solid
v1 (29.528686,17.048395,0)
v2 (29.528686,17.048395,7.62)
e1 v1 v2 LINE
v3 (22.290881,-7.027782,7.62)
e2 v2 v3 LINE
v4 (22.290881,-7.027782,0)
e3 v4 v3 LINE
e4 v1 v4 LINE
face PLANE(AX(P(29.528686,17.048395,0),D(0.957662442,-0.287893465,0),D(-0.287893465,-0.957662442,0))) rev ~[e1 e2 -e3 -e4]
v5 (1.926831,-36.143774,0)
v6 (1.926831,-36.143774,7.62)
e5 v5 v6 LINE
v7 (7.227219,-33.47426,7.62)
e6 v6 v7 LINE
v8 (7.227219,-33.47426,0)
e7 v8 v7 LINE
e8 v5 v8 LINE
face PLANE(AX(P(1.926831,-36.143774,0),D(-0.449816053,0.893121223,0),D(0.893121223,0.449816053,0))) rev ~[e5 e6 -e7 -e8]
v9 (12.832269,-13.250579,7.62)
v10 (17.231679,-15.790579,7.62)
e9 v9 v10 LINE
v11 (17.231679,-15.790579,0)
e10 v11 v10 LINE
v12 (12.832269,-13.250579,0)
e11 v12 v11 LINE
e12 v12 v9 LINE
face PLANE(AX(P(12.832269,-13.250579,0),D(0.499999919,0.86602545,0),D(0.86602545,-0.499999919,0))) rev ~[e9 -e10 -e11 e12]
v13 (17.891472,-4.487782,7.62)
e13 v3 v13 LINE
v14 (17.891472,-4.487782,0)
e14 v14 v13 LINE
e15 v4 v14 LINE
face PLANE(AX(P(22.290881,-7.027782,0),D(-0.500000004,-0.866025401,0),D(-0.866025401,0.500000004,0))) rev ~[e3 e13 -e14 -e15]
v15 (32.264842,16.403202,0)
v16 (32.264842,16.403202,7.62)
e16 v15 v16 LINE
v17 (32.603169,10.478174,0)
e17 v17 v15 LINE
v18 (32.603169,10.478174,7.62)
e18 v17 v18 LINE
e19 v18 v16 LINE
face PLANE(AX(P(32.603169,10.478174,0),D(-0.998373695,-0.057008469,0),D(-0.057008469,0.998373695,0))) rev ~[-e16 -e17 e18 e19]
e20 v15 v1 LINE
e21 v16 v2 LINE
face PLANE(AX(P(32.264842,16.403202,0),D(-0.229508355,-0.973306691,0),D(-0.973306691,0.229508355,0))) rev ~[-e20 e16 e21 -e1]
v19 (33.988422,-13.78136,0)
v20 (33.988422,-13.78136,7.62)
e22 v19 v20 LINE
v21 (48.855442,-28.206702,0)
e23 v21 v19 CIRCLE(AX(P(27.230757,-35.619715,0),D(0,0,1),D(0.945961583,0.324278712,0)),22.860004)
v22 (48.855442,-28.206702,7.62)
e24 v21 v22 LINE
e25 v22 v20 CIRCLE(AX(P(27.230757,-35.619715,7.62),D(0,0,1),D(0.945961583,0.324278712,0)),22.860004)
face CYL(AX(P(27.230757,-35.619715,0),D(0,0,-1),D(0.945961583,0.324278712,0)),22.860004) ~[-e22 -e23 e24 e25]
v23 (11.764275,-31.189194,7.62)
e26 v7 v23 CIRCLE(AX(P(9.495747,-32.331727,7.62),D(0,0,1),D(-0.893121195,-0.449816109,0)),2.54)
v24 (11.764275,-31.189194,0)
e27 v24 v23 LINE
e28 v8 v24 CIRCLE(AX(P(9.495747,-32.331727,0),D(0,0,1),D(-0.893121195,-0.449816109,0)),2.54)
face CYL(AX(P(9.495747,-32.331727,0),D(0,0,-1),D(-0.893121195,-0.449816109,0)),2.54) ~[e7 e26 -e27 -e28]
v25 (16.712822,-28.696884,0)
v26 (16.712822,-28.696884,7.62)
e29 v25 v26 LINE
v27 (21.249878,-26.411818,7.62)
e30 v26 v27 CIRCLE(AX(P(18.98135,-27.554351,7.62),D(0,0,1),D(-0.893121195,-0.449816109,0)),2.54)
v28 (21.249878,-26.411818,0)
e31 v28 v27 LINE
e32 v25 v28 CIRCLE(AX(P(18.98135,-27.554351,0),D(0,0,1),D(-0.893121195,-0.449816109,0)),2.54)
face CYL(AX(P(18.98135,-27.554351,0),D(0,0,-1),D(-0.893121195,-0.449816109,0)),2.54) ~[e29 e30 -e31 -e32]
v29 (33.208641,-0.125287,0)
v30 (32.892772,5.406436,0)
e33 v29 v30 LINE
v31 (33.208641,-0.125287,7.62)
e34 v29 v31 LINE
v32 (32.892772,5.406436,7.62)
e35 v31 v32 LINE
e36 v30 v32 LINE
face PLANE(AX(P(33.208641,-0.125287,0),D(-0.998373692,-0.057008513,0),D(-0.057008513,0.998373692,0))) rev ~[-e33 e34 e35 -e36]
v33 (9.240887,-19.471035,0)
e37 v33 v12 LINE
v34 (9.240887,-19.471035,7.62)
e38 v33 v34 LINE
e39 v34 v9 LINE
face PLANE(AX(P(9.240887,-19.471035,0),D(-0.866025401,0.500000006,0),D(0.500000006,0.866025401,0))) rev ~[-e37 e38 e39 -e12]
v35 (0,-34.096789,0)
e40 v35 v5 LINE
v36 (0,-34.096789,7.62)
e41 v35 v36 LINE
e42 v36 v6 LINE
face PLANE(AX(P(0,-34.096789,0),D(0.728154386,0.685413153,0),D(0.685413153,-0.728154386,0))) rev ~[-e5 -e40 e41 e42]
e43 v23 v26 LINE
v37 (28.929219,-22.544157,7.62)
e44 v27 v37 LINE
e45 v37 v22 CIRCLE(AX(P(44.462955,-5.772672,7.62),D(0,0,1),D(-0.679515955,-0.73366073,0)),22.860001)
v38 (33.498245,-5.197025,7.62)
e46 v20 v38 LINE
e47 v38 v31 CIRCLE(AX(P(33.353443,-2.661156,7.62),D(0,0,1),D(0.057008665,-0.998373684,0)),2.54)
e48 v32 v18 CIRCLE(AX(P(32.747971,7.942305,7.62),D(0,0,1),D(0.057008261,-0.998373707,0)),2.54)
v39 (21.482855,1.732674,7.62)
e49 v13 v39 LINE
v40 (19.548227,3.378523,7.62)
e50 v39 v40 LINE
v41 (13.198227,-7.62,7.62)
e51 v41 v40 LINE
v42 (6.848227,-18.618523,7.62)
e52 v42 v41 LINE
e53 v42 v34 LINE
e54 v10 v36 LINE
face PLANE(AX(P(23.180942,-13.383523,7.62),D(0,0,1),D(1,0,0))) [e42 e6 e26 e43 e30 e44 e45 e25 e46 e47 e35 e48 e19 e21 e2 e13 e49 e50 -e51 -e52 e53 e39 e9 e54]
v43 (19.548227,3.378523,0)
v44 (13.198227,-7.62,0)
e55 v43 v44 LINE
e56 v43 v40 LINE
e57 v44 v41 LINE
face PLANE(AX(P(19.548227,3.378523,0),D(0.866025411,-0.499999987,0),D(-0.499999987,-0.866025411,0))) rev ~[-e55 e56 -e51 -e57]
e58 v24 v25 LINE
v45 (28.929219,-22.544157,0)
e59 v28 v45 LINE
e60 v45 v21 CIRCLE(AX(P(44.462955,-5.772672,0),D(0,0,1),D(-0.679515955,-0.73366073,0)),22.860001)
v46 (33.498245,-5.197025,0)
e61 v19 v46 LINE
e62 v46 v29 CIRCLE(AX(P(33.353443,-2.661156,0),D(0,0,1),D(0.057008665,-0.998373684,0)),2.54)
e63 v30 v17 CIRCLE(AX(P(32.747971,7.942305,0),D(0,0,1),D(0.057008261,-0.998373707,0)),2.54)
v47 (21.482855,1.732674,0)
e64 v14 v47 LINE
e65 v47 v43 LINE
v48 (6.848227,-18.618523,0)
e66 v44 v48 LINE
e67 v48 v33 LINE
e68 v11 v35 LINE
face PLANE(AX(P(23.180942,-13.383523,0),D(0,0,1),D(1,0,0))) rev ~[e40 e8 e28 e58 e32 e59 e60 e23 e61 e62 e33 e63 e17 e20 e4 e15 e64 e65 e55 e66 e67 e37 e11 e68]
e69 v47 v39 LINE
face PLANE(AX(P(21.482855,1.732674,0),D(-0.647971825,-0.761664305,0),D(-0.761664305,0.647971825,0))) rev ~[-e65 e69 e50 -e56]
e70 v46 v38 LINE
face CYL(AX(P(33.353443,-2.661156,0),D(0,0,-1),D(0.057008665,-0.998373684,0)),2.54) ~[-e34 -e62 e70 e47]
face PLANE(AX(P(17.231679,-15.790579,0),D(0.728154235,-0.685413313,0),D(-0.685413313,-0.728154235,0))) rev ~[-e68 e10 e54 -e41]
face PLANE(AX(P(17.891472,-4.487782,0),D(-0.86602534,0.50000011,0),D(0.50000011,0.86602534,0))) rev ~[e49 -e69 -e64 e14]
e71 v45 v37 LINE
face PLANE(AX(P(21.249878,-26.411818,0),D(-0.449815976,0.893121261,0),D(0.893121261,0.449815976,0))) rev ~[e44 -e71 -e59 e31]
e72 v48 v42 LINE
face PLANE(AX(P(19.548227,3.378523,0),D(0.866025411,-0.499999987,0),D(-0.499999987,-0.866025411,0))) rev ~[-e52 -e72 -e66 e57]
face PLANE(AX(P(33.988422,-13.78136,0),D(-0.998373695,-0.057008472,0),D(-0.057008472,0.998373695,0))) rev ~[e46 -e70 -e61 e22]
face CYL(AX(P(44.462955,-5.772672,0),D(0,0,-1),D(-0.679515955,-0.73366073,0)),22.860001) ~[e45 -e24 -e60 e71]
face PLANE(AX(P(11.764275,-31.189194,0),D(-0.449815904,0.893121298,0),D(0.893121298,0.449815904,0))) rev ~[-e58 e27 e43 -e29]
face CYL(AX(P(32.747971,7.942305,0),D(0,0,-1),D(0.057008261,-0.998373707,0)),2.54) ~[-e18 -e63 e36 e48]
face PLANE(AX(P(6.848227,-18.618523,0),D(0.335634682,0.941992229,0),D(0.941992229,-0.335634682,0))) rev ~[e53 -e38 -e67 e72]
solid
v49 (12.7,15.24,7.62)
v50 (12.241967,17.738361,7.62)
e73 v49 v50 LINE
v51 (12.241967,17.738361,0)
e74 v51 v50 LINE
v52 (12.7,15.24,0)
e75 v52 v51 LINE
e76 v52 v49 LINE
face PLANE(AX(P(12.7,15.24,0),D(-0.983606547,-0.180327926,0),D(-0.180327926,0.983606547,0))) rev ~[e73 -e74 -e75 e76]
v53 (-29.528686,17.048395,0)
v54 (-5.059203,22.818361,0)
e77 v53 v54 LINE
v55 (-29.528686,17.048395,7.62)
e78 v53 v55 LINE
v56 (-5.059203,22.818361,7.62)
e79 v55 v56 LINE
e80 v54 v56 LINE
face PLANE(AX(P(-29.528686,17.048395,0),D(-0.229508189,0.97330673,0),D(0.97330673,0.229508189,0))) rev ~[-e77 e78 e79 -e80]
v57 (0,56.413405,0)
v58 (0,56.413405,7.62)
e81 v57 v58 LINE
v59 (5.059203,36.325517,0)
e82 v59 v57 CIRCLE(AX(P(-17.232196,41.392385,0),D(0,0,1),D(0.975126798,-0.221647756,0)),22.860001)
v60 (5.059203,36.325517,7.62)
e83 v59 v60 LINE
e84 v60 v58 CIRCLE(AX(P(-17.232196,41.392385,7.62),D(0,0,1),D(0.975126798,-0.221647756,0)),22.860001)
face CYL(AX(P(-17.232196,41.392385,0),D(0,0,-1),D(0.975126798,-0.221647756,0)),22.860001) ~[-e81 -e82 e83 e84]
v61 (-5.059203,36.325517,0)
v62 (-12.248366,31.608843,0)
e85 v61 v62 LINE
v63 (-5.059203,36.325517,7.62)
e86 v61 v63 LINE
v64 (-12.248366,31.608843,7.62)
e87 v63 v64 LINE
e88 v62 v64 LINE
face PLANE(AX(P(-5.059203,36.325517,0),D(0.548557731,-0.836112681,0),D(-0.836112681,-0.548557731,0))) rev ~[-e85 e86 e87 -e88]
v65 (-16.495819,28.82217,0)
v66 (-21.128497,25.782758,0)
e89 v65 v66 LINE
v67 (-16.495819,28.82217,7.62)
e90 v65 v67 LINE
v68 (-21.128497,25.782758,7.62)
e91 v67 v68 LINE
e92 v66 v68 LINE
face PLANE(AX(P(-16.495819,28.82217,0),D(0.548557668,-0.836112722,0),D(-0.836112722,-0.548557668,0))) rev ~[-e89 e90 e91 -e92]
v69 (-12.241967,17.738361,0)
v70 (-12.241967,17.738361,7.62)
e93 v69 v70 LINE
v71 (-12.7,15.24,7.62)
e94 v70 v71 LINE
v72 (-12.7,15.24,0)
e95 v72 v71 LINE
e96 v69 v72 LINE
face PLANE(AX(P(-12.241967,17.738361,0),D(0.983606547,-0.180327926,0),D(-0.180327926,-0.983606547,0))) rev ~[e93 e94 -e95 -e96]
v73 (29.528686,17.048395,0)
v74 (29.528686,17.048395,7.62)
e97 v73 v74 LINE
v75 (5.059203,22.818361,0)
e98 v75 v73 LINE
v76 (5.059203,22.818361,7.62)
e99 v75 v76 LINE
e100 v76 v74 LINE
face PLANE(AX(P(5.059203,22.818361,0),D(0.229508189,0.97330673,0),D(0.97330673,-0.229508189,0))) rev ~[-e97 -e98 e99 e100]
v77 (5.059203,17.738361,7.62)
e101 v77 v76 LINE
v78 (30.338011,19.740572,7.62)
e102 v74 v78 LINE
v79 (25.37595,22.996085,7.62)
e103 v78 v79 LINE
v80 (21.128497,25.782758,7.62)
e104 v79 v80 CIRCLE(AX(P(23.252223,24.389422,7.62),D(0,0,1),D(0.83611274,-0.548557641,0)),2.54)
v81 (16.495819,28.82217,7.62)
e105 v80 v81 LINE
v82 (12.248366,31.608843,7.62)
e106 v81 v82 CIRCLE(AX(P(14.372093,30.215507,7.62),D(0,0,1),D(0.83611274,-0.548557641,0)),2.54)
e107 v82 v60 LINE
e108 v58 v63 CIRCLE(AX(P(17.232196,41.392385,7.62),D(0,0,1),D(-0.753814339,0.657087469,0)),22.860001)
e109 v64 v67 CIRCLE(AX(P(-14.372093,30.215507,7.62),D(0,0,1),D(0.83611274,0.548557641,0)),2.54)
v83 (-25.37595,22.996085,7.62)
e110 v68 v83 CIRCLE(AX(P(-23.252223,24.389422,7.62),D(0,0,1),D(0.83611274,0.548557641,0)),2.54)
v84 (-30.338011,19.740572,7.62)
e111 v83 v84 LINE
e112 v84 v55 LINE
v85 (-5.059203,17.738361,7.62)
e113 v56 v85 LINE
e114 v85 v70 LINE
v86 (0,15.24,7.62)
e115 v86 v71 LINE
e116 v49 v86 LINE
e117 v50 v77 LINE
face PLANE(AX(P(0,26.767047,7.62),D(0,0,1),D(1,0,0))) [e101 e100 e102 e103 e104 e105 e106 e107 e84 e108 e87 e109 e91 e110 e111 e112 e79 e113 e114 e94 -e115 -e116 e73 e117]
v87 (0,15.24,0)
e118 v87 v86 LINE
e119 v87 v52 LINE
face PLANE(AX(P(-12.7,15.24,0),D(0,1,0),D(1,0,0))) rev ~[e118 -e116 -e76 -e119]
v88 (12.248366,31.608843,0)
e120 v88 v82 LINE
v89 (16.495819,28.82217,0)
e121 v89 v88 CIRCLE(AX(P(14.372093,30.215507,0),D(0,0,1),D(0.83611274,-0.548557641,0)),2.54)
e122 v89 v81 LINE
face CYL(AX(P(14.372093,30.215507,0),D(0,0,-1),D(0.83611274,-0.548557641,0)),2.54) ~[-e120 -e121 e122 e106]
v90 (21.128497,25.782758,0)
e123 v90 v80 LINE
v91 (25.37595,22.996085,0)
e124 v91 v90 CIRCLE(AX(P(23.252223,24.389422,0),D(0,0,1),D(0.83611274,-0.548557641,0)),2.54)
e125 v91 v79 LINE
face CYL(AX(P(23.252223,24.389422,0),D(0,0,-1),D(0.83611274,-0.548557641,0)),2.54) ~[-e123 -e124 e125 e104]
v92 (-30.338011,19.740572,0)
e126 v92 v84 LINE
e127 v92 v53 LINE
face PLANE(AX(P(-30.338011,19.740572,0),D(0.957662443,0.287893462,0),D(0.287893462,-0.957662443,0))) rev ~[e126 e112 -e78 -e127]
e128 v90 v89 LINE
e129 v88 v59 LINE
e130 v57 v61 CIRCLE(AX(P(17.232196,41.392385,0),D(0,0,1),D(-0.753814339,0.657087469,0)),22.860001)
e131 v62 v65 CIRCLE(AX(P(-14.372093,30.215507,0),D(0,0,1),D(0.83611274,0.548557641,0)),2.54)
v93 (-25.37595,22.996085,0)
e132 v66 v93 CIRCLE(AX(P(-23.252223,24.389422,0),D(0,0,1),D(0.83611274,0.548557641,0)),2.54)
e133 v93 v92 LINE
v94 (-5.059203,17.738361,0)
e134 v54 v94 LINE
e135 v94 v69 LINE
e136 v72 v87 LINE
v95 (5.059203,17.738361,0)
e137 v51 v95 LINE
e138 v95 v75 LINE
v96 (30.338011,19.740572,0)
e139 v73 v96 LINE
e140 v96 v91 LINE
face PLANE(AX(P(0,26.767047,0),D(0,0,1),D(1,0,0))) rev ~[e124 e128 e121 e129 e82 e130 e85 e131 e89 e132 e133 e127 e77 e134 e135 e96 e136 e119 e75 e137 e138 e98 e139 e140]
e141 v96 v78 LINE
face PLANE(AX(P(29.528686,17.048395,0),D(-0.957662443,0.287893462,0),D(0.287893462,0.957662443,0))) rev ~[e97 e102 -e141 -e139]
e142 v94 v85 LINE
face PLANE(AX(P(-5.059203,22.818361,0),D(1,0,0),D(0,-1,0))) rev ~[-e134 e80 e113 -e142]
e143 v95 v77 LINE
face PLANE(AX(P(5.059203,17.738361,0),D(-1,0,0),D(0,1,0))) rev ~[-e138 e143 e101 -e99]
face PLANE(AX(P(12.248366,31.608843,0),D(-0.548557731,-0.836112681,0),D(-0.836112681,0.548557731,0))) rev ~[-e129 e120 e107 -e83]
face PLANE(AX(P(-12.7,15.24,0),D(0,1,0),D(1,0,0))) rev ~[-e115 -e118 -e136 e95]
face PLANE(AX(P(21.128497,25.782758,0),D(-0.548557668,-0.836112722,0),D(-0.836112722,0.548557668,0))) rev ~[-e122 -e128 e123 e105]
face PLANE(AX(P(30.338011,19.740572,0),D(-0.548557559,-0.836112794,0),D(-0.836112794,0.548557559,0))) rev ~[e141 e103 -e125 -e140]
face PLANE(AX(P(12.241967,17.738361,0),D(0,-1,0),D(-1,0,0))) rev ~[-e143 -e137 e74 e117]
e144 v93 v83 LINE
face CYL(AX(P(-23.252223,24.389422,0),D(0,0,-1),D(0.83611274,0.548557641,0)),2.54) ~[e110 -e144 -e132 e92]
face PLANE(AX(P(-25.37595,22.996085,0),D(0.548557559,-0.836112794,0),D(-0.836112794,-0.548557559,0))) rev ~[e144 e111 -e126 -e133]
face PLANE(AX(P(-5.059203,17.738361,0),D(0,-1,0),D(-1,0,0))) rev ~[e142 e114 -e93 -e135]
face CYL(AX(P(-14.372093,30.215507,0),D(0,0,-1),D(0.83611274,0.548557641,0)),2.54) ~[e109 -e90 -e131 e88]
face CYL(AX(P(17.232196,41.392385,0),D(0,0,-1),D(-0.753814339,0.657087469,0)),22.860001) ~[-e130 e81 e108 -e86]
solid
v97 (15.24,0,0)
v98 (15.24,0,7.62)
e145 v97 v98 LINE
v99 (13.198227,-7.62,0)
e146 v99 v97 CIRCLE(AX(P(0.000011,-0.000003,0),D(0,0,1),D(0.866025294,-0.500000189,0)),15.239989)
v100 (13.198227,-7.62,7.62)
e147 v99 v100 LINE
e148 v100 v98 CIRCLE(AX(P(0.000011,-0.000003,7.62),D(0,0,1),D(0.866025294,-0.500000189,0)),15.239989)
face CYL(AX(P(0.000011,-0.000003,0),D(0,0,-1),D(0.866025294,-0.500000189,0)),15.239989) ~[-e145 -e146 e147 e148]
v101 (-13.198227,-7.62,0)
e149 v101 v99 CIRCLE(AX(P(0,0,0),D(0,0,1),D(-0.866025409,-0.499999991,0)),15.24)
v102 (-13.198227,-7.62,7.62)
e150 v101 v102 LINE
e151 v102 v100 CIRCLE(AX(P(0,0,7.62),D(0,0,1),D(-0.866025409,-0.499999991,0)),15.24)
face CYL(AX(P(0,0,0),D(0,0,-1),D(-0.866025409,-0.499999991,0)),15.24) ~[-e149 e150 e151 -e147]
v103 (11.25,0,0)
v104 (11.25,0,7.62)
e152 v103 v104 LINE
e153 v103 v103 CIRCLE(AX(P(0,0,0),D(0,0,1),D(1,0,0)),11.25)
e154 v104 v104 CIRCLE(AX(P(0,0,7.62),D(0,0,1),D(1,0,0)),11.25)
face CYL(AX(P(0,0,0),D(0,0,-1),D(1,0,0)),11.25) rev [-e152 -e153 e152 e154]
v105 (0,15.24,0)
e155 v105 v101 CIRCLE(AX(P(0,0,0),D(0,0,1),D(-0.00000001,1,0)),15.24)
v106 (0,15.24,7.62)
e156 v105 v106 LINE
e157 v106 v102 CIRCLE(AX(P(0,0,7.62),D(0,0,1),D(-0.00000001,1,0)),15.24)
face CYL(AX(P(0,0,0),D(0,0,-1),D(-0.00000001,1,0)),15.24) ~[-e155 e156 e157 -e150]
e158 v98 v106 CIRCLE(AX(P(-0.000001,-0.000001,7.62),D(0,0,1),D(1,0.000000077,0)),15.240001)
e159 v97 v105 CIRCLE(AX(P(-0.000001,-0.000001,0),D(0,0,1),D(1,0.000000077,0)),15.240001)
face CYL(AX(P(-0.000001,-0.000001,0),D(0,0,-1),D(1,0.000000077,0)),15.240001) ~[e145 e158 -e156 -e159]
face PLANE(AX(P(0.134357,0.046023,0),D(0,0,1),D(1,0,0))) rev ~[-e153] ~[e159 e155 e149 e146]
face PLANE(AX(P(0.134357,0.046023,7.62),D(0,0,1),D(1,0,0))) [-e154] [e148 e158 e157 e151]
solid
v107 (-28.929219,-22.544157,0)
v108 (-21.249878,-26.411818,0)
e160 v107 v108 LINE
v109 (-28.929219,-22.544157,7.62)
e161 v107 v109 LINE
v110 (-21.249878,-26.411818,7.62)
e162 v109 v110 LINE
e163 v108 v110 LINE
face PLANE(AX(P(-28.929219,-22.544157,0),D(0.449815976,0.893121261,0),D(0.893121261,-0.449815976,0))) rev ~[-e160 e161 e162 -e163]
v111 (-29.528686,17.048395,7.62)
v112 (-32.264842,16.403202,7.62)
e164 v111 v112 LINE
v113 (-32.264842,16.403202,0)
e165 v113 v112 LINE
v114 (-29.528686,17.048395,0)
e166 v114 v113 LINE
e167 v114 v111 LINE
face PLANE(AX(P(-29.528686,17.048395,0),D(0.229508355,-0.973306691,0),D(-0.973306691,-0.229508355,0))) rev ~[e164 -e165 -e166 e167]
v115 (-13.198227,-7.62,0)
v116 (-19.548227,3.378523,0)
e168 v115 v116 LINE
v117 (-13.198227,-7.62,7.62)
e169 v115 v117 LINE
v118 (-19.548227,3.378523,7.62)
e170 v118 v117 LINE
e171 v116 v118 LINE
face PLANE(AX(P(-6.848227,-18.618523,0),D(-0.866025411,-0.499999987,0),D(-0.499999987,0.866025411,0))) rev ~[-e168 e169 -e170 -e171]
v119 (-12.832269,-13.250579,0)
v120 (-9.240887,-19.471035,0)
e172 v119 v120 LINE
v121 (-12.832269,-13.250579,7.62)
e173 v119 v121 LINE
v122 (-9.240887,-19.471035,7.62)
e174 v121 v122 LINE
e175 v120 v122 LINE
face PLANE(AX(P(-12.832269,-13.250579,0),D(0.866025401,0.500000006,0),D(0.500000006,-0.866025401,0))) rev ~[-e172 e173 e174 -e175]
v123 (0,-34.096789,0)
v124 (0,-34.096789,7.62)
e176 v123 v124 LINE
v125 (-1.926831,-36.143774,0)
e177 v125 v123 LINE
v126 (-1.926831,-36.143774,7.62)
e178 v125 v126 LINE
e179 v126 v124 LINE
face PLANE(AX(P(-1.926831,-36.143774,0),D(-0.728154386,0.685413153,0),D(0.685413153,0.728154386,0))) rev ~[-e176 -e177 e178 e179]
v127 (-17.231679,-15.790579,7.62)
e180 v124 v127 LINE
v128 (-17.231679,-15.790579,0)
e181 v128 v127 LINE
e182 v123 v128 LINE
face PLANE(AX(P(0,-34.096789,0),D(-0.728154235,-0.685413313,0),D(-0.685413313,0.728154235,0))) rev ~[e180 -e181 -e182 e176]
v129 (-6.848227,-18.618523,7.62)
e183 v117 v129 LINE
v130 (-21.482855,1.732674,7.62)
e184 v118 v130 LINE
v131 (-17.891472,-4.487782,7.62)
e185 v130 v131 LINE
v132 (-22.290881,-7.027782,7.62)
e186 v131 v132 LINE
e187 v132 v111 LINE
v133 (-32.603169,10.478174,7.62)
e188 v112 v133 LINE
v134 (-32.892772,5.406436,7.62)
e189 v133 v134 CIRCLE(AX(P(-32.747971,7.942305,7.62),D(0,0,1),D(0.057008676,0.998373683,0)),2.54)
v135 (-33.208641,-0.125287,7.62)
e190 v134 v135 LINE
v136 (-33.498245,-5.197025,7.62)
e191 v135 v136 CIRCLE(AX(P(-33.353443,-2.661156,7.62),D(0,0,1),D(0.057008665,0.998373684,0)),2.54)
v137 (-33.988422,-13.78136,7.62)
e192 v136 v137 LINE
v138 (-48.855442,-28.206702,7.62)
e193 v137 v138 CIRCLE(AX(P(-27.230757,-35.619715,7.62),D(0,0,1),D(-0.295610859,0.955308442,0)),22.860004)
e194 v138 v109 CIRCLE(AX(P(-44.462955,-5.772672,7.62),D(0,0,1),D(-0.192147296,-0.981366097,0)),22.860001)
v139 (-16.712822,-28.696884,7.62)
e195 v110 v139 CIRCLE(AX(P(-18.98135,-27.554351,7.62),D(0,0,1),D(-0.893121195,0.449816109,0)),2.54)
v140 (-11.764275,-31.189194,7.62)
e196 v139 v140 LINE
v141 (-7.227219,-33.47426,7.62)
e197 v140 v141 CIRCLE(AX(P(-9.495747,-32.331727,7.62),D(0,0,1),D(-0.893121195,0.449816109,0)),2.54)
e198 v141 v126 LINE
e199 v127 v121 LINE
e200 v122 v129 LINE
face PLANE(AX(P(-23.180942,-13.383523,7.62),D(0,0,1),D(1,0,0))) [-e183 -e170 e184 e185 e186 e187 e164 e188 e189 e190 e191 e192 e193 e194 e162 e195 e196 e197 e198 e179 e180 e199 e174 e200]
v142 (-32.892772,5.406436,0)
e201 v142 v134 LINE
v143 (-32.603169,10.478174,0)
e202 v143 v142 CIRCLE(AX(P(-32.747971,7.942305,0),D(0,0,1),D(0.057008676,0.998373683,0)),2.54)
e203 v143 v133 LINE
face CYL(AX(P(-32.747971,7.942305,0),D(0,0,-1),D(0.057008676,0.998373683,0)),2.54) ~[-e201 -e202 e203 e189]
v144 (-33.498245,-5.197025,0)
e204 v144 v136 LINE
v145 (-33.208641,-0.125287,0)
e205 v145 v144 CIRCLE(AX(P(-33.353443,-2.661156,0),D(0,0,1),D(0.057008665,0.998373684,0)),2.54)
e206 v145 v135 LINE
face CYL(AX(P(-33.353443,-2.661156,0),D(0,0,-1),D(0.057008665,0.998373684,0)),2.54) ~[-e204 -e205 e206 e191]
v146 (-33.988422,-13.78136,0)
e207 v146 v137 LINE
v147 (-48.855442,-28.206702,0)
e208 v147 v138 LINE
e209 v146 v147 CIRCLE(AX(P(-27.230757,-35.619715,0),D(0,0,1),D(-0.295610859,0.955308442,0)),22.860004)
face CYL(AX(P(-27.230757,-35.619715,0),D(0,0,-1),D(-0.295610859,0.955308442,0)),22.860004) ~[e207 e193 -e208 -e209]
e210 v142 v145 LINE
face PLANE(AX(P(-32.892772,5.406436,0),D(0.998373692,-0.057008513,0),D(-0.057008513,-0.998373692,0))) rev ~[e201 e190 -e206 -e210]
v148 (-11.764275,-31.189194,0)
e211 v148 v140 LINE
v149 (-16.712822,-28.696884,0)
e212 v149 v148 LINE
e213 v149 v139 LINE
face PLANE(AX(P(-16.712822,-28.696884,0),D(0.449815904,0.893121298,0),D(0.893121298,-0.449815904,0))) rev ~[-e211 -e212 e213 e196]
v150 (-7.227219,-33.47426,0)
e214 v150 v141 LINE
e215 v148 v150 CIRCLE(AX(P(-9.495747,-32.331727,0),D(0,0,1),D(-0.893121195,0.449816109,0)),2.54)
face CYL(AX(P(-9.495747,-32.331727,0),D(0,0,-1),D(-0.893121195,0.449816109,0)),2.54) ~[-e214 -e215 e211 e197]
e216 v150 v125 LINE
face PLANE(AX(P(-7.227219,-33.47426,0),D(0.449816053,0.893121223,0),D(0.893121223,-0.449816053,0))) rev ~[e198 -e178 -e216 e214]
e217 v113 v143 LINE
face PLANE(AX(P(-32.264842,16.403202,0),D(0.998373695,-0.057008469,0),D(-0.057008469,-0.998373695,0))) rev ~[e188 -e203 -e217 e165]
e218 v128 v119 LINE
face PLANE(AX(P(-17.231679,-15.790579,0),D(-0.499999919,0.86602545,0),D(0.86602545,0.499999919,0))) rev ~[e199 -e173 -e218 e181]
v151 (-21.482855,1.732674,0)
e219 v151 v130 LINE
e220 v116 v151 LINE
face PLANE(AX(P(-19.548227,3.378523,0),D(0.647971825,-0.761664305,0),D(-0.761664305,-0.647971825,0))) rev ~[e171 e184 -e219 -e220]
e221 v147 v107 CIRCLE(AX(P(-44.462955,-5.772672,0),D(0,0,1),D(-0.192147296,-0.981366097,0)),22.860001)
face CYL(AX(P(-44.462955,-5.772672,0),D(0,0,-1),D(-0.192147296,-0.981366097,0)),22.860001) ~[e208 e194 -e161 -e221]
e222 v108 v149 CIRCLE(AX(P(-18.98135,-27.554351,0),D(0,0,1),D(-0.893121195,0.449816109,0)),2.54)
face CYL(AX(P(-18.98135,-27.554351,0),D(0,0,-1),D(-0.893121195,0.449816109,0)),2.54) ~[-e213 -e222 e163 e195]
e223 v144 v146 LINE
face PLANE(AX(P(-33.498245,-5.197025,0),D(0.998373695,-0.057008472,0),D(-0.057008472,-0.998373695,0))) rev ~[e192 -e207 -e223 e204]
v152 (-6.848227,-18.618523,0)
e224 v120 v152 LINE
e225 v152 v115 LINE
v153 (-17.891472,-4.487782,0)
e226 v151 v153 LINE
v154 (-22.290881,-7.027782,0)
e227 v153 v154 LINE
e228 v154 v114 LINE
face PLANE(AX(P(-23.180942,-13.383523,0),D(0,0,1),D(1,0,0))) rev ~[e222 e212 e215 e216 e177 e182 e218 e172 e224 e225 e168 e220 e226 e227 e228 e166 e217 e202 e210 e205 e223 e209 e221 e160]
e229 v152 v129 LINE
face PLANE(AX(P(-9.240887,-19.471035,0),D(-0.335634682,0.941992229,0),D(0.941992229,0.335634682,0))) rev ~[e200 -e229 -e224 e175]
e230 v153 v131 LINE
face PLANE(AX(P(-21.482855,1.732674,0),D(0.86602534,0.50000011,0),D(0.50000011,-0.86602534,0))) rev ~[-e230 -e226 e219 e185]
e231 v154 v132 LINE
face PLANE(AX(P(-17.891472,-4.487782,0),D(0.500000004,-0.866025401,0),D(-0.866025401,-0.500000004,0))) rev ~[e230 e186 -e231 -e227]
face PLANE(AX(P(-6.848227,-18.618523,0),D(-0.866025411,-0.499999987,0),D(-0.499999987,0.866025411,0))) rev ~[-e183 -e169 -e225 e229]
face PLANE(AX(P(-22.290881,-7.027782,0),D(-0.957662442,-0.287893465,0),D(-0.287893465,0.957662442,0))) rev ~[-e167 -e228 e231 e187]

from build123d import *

# Parameters (mm, degrees)
F0_R     = 11.25
F1_DEPTH = 7.62


with BuildPart() as f1:
    # F0 (on Top) → F1 (new body)
    with BuildSketch(Plane.XY):
        with BuildLine():
            ThreePointArc((13.198227, -7.62), (14.72071, -3.944402), (15.24, 0))
            ThreePointArc((15.24, 0), (10.776307, 10.776307), (0, 15.24))
            ThreePointArc((0, 15.24), (-13.198227, 7.62), (-13.198227, -7.62))
            ThreePointArc((-13.198227, -7.62), (0, -15.24), (13.198227, -7.62))
        make_face()
        Circle(F0_R, mode=Mode.SUBTRACT)
        with BuildLine():
            Line((19.548227, 3.378523), (13.198227, -7.62))
            Line((13.198227, -7.62), (6.848227, -18.618523))
            Line((6.848227, -18.618523), (9.240887, -19.471035))
            Line((9.240887, -19.471035), (12.832269, -13.250579))
            Line((12.832269, -13.250579), (17.231679, -15.790579))
            Line((17.231679, -15.790579), (0, -34.096789))
            Line((0, -34.096789), (1.926831, -36.143774))
            Line((1.926831, -36.143774), (7.227219, -33.47426))
            Line((7.227219, -33.47426), (11.764275, -31.189194))
            Line((11.764275, -31.189194), (16.712822, -28.696884))
            Line((16.712822, -28.696884), (21.249878, -26.411818))
            Line((21.249878, -26.411818), (28.929219, -22.544157))
            ThreePointArc((28.929219, -22.544157), (38.214118, -27.762026), (48.855442, -28.206702))
            ThreePointArc((48.855442, -28.206702), (43.149679, -19.213384), (33.988422, -13.78136))
            Line((33.988422, -13.78136), (33.498245, -5.197025))
            Line((33.498245, -5.197025), (33.208641, -0.125287))
            Line((33.208641, -0.125287), (32.892772, 5.406436))
            Line((32.892772, 5.406436), (32.603169, 10.478174))
            Line((32.603169, 10.478174), (32.264842, 16.403202))
            Line((32.264842, 16.403202), (29.528686, 17.048395))
            Line((29.528686, 17.048395), (22.290881, -7.027782))
            Line((22.290881, -7.027782), (17.891472, -4.487782))
            Line((17.891472, -4.487782), (21.482855, 1.732674))
            Line((21.482855, 1.732674), (19.548227, 3.378523))
        make_face()
        with BuildLine():
            Line((-12.7, 15.24), (0, 15.24))
            Line((0, 15.24), (12.7, 15.24))
            Line((12.7, 15.24), (12.241967, 17.738361))
            Line((12.241967, 17.738361), (5.059203, 17.738361))
            Line((5.059203, 17.738361), (5.059203, 22.818361))
            Line((5.059203, 22.818361), (29.528686, 17.048395))
            Line((29.528686, 17.048395), (30.338011, 19.740572))
            Line((30.338011, 19.740572), (25.37595, 22.996085))
            Line((25.37595, 22.996085), (21.128497, 25.782758))
            Line((21.128497, 25.782758), (16.495819, 28.82217))
            Line((16.495819, 28.82217), (12.248366, 31.608843))
            Line((12.248366, 31.608843), (5.059203, 36.325517))
            ThreePointArc((5.059203, 36.325517), (4.935561, 46.97541), (0, 56.413405))
            ThreePointArc((0, 56.413405), (-4.935561, 46.97541), (-5.059203, 36.325517))
            Line((-5.059203, 36.325517), (-12.248366, 31.608843))
            Line((-12.248366, 31.608843), (-16.495819, 28.82217))
            Line((-16.495819, 28.82217), (-21.128497, 25.782758))
            Line((-21.128497, 25.782758), (-25.37595, 22.996085))
            Line((-25.37595, 22.996085), (-30.338011, 19.740572))
            Line((-30.338011, 19.740572), (-29.528686, 17.048395))
            Line((-29.528686, 17.048395), (-5.059203, 22.818361))
            Line((-5.059203, 22.818361), (-5.059203, 17.738361))
            Line((-5.059203, 17.738361), (-12.241967, 17.738361))
            Line((-12.241967, 17.738361), (-12.7, 15.24))
        make_face()
        with BuildLine():
            Line((-6.848227, -18.618523), (-13.198227, -7.62))
            Line((-13.198227, -7.62), (-19.548227, 3.378523))
            Line((-19.548227, 3.378523), (-21.482855, 1.732674))
            Line((-21.482855, 1.732674), (-17.891472, -4.487782))
            Line((-17.891472, -4.487782), (-22.290881, -7.027782))
            Line((-22.290881, -7.027782), (-29.528686, 17.048395))
            Line((-29.528686, 17.048395), (-32.264842, 16.403202))
            Line((-32.264842, 16.403202), (-32.603169, 10.478174))
            Line((-32.603169, 10.478174), (-32.892772, 5.406436))
            Line((-32.892772, 5.406436), (-33.208641, -0.125287))
            Line((-33.208641, -0.125287), (-33.498245, -5.197025))
            Line((-33.498245, -5.197025), (-33.988422, -13.78136))
            ThreePointArc((-33.988422, -13.78136), (-43.149679, -19.213384), (-48.855442, -28.206702))
            ThreePointArc((-48.855442, -28.206702), (-38.214118, -27.762026), (-28.929219, -22.544157))
            Line((-28.929219, -22.544157), (-21.249878, -26.411818))
            Line((-21.249878, -26.411818), (-16.712822, -28.696884))
            Line((-16.712822, -28.696884), (-11.764275, -31.189194))
            Line((-11.764275, -31.189194), (-7.227219, -33.47426))
            Line((-7.227219, -33.47426), (-1.926831, -36.143774))
            Line((-1.926831, -36.143774), (0, -34.096789))
            Line((0, -34.096789), (-17.231679, -15.790579))
            Line((-17.231679, -15.790579), (-12.832269, -13.250579))
            Line((-12.832269, -13.250579), (-9.240887, -19.471035))
            Line((-9.240887, -19.471035), (-6.848227, -18.618523))
        make_face()
        with BuildLine():
            Line((-33.498245, -5.197025), (-33.208641, -0.125287))
            ThreePointArc((-33.208641, -0.125287), (-35.889312, -2.516354), (-33.498245, -5.197025))
        make_face()
        with BuildLine():
            Line((-32.892772, 5.406436), (-32.603169, 10.478174))
            ThreePointArc((-32.603169, 10.478174), (-35.28384, 8.087107), (-32.892772, 5.406436))
        make_face()
        with BuildLine():
            ThreePointArc((-21.128497, 25.782758), (-24.64556, 26.513148), (-25.37595, 22.996085))
            Line((-25.37595, 22.996085), (-21.128497, 25.782758))
        make_face()
        with BuildLine():
            ThreePointArc((-12.248366, 31.608843), (-15.765429, 32.339233), (-16.495819, 28.82217))
            Line((-16.495819, 28.82217), (-12.248366, 31.608843))
        make_face()
        with BuildLine():
            Line((12.248366, 31.608843), (16.495819, 28.82217))
            ThreePointArc((16.495819, 28.82217), (15.765429, 32.339233), (12.248366, 31.608843))
        make_face()
        with BuildLine():
            Line((21.128497, 25.782758), (25.37595, 22.996085))
            ThreePointArc((25.37595, 22.996085), (24.64556, 26.513148), (21.128497, 25.782758))
        make_face()
        with BuildLine():
            ThreePointArc((32.892772, 5.406436), (35.28384, 8.087107), (32.603169, 10.478174))
            Line((32.603169, 10.478174), (32.892772, 5.406436))
        make_face()
        with BuildLine():
            ThreePointArc((33.498245, -5.197025), (35.889312, -2.516354), (33.208641, -0.125287))
            Line((33.208641, -0.125287), (33.498245, -5.197025))
        make_face()
        with BuildLine():
            Line((11.764275, -31.189194), (7.227219, -33.47426))
            ThreePointArc((7.227219, -33.47426), (10.63828, -34.600255), (11.764275, -31.189194))
        make_face()
        with BuildLine():
            Line((21.249878, -26.411818), (16.712822, -28.696884))
            ThreePointArc((16.712822, -28.696884), (20.123883, -29.822879), (21.249878, -26.411818))
        make_face()
        with BuildLine():
            ThreePointArc((-21.249878, -26.411818), (-20.123883, -29.822879), (-16.712822, -28.696884))
            Line((-16.712822, -28.696884), (-21.249878, -26.411818))
        make_face()
        with BuildLine():
            ThreePointArc((-11.764275, -31.189194), (-10.63828, -34.600255), (-7.227219, -33.47426))
            Line((-7.227219, -33.47426), (-11.764275, -31.189194))
        make_face()
    extrude(amount=F1_DEPTH)


solid = f1.part
